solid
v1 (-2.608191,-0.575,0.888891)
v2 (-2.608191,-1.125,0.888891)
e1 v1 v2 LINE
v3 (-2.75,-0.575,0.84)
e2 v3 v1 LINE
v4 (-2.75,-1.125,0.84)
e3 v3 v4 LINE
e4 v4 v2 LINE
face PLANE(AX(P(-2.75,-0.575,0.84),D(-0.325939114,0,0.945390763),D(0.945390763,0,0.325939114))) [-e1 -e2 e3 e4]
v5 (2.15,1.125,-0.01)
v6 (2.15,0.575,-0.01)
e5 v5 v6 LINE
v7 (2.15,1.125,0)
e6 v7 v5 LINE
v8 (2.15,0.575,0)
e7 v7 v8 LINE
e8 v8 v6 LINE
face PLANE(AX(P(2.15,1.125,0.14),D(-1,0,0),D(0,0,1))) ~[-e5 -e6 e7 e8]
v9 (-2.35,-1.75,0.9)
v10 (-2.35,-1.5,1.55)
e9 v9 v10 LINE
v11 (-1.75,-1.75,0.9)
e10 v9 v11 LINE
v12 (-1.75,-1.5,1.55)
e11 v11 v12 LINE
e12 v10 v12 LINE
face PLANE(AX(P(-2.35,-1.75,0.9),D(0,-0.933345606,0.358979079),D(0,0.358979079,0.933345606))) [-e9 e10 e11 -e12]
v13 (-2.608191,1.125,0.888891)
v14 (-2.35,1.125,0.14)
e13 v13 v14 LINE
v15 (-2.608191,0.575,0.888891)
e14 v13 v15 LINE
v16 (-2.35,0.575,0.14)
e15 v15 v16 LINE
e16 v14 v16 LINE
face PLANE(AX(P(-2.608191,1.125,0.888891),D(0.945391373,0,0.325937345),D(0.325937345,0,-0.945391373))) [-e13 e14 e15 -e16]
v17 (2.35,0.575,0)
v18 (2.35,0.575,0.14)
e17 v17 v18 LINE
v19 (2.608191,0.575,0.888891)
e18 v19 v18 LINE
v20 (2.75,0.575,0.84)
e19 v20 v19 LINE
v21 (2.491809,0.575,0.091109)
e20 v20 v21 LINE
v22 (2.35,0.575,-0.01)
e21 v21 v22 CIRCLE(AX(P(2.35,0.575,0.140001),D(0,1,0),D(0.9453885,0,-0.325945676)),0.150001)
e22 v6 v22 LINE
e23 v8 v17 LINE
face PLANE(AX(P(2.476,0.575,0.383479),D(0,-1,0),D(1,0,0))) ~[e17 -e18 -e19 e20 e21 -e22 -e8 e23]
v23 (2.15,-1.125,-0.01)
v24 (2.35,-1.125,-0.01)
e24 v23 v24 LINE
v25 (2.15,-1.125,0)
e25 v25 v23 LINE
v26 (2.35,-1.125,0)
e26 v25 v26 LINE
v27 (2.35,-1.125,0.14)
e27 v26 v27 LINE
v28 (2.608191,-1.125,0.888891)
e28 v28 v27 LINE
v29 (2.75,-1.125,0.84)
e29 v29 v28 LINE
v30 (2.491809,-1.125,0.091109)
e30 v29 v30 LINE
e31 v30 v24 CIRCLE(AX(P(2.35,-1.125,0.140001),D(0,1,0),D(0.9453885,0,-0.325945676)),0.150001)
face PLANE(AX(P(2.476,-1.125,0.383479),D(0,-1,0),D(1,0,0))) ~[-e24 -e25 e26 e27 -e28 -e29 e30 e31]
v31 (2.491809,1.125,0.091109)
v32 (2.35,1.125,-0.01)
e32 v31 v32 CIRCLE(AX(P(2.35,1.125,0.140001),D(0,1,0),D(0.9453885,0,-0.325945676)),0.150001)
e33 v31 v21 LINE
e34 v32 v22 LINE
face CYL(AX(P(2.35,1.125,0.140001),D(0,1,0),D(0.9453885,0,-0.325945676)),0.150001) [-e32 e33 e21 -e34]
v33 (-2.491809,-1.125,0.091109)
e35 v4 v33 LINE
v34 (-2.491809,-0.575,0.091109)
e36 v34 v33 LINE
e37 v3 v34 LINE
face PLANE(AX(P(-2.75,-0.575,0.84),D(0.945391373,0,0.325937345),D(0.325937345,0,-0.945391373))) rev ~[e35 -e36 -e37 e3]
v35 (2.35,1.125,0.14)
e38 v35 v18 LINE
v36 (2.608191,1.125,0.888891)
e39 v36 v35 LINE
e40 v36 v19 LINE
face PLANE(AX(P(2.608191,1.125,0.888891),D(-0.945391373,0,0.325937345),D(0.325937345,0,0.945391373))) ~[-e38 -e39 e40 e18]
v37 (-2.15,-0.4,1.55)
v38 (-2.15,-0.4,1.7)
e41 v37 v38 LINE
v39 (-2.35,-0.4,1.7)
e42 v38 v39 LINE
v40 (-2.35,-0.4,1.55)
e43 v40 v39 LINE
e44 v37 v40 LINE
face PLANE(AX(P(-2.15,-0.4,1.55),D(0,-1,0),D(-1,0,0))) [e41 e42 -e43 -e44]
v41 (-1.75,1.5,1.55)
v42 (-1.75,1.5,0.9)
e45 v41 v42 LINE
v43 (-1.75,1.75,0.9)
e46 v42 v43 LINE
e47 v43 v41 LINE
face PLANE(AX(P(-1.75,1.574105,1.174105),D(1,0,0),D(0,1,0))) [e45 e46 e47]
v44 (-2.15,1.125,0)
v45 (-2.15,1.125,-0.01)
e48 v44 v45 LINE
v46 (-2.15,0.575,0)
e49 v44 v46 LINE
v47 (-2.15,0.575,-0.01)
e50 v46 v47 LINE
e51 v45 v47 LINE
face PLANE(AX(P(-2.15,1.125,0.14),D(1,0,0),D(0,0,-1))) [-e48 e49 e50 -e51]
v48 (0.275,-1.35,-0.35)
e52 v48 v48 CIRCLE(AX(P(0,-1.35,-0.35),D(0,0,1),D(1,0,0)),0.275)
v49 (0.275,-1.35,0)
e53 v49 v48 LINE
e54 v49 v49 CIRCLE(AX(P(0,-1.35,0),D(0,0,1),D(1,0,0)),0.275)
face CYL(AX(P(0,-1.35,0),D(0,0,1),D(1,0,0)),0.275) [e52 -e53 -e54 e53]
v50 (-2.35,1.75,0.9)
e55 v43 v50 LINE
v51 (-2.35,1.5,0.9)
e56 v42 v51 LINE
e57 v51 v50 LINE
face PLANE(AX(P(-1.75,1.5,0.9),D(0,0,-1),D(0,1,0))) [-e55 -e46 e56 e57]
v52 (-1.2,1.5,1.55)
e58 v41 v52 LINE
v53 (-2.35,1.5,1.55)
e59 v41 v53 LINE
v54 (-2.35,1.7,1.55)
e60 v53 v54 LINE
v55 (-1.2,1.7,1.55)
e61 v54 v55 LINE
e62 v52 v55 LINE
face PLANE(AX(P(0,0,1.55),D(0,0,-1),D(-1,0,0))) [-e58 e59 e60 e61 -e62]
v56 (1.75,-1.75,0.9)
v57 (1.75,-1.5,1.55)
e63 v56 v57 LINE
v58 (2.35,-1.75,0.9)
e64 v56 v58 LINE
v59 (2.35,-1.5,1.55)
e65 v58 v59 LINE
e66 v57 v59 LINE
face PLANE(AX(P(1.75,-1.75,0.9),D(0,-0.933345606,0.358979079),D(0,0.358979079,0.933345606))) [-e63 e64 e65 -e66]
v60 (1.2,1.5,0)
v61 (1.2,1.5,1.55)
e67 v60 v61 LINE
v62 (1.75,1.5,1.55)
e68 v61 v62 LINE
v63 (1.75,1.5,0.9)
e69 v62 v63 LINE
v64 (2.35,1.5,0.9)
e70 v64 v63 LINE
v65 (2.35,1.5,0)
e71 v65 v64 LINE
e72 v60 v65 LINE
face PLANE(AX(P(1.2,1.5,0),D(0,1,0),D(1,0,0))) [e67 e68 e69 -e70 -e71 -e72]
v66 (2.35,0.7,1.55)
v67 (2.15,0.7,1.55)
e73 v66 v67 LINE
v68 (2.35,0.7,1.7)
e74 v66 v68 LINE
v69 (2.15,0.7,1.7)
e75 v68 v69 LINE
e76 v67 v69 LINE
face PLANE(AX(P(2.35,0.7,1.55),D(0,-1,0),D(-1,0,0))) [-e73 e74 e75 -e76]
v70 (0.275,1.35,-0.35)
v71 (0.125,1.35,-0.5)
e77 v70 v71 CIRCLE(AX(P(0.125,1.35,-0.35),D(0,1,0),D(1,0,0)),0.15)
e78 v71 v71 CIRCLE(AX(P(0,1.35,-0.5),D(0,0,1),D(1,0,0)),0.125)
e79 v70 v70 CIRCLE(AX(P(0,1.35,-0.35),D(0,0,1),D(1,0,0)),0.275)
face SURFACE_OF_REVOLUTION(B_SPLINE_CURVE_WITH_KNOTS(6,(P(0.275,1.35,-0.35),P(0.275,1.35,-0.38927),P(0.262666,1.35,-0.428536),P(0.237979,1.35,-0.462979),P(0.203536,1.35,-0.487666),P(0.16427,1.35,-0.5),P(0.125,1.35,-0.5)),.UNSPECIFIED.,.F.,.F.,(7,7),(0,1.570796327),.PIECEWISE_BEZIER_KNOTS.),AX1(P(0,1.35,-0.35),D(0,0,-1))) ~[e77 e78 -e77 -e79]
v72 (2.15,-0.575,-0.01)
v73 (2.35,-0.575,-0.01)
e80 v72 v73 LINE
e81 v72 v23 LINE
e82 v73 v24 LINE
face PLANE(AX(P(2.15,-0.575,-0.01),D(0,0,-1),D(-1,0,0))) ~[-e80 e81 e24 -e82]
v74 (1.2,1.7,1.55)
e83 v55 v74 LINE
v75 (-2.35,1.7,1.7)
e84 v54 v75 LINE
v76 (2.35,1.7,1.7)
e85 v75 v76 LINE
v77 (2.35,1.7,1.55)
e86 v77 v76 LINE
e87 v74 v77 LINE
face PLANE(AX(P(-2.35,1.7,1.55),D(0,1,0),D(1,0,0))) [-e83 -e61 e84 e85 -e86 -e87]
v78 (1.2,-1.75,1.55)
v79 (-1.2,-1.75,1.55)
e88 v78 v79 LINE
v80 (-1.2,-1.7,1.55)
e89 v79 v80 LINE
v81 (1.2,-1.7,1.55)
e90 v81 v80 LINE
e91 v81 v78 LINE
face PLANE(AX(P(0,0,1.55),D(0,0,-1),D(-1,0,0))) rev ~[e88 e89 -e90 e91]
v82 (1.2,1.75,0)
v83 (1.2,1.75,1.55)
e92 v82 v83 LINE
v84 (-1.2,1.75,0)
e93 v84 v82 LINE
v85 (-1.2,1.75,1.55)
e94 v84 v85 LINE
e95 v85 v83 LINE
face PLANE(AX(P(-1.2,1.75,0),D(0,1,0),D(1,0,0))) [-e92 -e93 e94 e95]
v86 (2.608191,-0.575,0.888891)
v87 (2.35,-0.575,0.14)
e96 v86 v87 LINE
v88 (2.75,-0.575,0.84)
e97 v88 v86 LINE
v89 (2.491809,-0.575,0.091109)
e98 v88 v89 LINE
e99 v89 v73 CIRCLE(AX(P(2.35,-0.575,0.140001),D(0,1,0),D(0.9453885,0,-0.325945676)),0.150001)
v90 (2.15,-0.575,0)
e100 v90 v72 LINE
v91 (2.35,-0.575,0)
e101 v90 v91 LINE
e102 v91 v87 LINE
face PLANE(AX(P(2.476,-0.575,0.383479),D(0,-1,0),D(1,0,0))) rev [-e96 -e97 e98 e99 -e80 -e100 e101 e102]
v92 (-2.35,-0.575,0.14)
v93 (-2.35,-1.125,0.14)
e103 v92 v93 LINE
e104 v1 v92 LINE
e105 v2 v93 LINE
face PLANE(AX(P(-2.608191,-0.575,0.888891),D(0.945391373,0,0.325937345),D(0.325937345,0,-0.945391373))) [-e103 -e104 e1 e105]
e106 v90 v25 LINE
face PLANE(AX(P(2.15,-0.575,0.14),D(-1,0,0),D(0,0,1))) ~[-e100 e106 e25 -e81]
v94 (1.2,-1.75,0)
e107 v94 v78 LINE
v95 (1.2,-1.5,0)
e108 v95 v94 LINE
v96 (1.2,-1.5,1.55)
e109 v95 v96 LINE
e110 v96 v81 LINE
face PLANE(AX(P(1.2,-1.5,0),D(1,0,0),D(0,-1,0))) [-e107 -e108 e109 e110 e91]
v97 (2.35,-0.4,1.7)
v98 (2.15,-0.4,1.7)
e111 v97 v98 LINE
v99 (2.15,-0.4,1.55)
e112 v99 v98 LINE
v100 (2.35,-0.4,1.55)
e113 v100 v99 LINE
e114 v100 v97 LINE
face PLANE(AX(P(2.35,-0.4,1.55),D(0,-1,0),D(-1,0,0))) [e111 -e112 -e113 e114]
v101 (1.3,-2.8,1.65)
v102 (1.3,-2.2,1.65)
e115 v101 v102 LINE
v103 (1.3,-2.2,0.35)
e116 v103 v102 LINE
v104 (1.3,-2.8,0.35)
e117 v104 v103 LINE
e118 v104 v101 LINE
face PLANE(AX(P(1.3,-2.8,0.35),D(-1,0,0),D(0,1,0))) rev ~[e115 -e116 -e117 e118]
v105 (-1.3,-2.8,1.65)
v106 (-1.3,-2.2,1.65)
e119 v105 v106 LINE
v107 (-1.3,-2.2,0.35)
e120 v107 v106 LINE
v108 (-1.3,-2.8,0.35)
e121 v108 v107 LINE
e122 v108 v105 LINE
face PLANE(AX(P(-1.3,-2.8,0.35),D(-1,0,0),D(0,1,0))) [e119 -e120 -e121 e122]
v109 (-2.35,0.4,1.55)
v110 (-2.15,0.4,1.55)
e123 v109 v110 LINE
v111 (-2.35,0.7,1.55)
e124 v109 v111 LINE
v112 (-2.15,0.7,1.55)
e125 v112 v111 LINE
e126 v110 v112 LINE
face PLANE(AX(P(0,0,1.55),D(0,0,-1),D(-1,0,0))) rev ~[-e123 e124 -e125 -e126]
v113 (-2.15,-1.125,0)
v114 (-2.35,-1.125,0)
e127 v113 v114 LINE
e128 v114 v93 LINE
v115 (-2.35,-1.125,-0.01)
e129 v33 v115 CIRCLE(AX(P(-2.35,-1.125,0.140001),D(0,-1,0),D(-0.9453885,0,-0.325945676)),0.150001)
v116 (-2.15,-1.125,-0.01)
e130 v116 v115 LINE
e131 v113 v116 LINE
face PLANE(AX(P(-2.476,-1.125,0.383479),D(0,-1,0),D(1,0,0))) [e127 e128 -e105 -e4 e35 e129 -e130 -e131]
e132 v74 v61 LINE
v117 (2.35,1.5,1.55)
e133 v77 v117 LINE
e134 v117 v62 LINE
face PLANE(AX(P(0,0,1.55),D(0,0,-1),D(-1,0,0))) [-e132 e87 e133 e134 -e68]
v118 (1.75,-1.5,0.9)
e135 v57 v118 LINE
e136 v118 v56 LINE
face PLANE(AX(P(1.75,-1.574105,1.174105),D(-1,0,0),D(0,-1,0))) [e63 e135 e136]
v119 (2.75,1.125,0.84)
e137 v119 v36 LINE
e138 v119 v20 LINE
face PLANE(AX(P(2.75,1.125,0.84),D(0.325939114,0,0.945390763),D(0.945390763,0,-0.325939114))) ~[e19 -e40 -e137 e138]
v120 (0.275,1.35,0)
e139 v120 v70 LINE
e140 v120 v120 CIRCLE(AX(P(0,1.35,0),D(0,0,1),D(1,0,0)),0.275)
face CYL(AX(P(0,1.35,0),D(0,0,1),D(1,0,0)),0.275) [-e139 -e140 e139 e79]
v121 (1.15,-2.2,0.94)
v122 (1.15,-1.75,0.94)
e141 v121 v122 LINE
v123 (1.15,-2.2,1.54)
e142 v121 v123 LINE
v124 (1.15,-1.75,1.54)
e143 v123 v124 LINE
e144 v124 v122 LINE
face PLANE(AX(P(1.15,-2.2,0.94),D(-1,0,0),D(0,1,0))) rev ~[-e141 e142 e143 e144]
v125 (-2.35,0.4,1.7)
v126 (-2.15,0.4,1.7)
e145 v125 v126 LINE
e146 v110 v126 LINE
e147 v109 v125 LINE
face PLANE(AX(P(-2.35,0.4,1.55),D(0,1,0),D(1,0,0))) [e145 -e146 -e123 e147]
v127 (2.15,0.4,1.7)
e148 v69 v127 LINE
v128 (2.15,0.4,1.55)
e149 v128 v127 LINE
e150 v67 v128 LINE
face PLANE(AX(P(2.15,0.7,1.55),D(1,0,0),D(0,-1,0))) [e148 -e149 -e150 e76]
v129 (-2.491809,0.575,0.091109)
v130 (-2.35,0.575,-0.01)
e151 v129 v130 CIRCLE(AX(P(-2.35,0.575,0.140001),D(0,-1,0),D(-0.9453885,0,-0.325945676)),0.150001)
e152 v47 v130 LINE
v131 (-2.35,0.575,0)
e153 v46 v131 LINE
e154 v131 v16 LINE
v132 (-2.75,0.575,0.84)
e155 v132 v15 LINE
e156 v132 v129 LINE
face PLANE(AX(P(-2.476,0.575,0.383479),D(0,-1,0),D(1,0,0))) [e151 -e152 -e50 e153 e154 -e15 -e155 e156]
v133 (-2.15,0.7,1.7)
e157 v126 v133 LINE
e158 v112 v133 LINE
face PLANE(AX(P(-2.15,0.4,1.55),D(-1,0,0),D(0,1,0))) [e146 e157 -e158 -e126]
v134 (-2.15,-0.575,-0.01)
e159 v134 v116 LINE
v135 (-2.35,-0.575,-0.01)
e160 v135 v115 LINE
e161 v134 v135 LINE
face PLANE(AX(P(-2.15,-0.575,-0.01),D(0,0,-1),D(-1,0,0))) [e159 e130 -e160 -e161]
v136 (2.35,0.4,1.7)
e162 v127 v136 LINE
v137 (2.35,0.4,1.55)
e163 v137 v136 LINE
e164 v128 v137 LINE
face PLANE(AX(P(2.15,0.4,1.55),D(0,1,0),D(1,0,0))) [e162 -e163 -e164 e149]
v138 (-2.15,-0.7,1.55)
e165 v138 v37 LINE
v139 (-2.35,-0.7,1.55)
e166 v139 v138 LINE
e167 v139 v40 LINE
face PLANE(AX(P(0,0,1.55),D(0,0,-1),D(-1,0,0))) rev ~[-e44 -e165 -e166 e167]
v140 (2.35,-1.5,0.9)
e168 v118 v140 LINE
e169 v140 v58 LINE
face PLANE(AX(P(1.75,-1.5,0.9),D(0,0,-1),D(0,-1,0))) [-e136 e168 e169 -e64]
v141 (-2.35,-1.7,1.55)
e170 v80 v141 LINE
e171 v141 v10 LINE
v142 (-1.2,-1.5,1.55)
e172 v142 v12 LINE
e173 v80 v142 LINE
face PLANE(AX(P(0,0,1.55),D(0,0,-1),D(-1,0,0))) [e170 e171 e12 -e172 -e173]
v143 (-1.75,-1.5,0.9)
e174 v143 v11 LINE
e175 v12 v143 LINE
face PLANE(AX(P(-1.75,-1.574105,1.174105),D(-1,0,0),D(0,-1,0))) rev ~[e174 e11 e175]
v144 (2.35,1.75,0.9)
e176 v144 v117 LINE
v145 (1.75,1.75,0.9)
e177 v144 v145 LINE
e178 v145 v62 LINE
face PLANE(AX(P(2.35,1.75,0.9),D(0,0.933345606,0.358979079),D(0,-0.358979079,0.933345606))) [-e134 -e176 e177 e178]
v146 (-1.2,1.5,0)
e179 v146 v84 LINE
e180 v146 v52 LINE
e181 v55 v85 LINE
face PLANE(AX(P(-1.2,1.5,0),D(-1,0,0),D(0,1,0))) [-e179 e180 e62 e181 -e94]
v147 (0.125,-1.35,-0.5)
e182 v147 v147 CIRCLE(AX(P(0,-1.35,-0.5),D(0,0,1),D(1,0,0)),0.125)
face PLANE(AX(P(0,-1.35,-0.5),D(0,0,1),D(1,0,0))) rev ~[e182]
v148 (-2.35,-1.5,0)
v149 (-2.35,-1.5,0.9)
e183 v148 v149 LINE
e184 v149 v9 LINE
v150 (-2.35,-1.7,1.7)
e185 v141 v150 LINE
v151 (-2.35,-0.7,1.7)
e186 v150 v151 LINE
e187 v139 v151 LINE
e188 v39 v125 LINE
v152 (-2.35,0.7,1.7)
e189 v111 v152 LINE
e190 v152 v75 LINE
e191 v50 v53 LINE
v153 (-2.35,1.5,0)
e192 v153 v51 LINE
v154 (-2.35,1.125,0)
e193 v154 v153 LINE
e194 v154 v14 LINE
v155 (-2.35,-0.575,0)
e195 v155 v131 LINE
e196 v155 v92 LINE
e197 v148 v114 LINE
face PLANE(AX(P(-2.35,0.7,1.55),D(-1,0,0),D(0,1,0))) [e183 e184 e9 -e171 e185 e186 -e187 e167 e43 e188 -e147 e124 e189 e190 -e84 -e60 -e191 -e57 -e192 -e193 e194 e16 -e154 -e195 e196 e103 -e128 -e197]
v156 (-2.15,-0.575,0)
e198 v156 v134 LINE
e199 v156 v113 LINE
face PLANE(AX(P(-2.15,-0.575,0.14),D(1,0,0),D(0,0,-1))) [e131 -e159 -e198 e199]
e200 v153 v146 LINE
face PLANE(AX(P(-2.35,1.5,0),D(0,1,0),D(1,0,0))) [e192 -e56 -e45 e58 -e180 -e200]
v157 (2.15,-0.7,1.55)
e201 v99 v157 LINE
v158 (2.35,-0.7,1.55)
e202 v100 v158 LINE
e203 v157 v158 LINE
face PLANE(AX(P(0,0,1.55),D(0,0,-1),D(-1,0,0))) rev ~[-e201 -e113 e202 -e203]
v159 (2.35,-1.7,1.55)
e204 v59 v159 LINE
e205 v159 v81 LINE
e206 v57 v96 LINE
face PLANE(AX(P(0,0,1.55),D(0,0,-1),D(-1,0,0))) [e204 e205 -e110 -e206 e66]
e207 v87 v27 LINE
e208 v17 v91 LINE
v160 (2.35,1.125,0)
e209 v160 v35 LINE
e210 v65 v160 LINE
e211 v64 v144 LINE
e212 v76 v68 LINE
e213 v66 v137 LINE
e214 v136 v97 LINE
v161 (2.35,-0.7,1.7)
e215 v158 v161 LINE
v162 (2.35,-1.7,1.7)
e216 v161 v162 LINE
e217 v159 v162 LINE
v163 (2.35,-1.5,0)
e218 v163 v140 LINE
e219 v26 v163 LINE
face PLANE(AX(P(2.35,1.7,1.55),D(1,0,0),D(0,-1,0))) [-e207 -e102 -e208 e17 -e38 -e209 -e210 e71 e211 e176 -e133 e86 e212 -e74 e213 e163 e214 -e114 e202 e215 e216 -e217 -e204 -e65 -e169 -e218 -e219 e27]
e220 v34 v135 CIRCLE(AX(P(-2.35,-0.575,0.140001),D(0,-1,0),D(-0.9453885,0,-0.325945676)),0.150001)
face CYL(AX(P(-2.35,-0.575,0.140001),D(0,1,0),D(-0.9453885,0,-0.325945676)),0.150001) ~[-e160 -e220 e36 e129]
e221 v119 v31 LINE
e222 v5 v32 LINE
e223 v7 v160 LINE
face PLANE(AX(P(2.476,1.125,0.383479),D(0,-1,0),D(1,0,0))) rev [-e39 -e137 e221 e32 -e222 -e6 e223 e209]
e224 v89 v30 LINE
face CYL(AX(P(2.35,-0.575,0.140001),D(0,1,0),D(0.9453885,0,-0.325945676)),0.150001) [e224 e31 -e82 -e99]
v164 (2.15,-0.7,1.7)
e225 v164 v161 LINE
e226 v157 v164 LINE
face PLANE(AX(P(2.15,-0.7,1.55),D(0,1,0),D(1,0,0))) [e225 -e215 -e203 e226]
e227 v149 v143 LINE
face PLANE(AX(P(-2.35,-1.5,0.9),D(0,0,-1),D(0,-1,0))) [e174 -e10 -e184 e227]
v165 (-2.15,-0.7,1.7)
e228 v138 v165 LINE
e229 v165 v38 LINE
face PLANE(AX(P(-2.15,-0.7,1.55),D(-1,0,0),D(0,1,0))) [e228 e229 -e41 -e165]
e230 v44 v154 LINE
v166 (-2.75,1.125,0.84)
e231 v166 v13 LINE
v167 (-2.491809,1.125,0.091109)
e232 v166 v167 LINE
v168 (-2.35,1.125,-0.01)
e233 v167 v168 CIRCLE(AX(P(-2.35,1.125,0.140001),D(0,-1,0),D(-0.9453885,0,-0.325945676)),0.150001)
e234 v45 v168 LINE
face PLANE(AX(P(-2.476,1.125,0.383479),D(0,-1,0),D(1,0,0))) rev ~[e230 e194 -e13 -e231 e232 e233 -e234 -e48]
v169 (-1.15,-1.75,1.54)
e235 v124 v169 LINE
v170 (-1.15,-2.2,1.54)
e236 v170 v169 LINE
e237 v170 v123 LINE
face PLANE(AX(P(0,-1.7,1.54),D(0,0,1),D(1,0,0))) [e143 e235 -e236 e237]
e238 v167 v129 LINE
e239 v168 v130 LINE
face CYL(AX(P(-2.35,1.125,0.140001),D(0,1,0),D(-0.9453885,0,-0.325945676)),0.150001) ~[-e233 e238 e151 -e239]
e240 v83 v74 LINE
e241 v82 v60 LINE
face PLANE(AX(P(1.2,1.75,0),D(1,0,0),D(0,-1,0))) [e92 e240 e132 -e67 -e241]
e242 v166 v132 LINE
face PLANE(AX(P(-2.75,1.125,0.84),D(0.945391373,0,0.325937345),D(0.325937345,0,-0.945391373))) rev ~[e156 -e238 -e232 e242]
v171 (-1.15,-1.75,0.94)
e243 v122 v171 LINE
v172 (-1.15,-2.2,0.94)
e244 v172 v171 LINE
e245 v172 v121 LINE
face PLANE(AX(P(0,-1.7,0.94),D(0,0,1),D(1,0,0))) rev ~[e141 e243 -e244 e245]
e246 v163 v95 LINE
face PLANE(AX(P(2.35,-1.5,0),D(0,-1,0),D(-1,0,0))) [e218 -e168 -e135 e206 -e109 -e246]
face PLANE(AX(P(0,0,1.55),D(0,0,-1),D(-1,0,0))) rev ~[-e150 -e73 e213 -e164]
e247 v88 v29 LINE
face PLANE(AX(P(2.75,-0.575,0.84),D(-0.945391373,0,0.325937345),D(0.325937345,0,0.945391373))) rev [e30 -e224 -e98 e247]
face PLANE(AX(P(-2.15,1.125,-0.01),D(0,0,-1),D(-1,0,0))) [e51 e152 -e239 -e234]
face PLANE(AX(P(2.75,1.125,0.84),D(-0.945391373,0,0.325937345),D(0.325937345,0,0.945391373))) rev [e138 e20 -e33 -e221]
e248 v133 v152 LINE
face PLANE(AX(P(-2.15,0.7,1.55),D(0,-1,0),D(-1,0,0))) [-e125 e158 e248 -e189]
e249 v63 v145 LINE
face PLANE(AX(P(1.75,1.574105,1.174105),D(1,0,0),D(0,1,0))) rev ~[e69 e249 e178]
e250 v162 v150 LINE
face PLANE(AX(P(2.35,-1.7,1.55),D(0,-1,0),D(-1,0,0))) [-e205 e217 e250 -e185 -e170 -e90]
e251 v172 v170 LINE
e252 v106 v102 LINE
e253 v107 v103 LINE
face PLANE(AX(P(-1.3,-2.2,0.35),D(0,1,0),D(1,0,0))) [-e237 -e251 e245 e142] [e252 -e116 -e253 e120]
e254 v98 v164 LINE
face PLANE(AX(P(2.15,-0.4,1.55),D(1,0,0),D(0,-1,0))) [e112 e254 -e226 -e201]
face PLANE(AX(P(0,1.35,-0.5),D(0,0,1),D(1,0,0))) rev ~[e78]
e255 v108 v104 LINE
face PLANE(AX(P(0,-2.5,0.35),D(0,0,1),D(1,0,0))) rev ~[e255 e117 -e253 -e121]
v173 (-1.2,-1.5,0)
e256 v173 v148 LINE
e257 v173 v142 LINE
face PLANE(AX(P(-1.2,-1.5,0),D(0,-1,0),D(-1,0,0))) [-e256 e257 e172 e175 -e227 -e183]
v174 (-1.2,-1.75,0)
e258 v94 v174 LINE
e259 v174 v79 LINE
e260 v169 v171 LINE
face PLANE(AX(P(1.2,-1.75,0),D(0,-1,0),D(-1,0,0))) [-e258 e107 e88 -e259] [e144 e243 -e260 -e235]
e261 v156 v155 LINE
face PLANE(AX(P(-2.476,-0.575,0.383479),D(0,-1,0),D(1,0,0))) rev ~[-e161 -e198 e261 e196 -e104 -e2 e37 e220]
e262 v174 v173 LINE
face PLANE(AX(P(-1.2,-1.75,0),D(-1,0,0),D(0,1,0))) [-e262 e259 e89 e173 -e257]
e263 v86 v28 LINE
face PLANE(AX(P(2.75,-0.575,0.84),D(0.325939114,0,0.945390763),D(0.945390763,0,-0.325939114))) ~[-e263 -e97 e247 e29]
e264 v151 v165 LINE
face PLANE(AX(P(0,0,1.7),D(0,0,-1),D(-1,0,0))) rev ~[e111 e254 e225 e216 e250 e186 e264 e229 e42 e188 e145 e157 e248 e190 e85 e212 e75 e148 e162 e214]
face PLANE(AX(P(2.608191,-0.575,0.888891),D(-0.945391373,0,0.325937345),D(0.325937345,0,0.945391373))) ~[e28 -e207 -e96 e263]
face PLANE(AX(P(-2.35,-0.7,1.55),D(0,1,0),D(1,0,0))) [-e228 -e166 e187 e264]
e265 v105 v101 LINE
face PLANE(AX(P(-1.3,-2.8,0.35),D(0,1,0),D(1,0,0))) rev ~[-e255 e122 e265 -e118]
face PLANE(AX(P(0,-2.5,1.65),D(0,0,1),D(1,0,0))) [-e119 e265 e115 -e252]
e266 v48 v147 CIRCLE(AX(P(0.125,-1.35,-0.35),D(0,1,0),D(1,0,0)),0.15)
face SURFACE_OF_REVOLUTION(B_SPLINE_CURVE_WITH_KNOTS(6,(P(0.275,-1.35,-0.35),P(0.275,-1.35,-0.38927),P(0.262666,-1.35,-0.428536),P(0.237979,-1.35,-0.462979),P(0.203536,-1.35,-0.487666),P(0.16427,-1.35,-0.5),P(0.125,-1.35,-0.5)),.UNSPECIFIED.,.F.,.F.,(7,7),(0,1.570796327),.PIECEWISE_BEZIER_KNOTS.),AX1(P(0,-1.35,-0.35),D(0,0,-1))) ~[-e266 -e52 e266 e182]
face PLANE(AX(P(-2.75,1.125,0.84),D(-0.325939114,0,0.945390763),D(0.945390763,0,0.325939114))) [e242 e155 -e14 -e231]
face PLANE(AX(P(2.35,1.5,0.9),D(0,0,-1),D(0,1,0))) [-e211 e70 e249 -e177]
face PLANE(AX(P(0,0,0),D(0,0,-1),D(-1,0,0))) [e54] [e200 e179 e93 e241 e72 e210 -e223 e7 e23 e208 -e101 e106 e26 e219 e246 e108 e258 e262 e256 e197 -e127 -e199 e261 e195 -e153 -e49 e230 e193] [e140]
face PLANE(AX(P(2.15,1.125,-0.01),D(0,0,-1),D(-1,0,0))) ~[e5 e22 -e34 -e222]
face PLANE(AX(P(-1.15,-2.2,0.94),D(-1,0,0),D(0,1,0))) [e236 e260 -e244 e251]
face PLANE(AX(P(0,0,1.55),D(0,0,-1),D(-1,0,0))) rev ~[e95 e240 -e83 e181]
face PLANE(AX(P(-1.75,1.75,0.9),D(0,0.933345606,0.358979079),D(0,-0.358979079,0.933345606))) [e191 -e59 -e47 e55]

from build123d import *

# Parameters (mm, degrees)
EXTRUDE_DEPTH    = 0.55
ARRAY_Y_COUNT    = 2
ARRAY_Y_PITCH    = 1.7
EXTRUDE003_DEPTH = 0.15
BOX_W            = 2.6
BOX_H            = 0.6
BOX_DEPTH        = 1.3
BOX001_W         = 2.3
BOX001_H         = 1
BOX001_DEPTH     = 0.6
EXTRUDE004_DEPTH = 0.6
ARRAY001_X_COUNT = 2
ARRAY001_X_PITCH = 4.1
ARRAY002_COUNT   = 2
EXTRUDE002_DEPTH = 1.55
SKETCH001_R      = 0.275
EXTRUDE001_DEPTH = 0.5
FILLET_R         = 0.15
ARRAY003_Y_COUNT = 2
ARRAY003_Y_PITCH = 2.7


with BuildPart() as leftlegs:
    # Sketch → Extrude (new body)
    with BuildSketch(Plane.XZ.offset(0.575)):
        with BuildLine():
            Line((-2.75, 0.85), (-2.491809, 0.101109))
            ThreePointArc((-2.491809, 0.101109), (-2.437082, 0.027866), (-2.35, 0))
            Line((-2.15, 0), (-2.35, 0))
            Line((-2.15, 0.15), (-2.15, 0))
            Line((-2.35, 0.15), (-2.15, 0.15))
            Line((-2.608191, 0.898891), (-2.35, 0.15))
            Line((-2.75, 0.85), (-2.608191, 0.898891))
        make_face()
    extrude(amount=EXTRUDE_DEPTH)


with BuildPart() as leftlegs_1:
    # Extrude placement: moved
    add(leftlegs.part.moved(Location((0, 0, -0.01))))

    # Array Y: leftlegs ×2


with BuildPart() as leftlegs_2:
    add(leftlegs_1.part)
    with Locations(*[(0, i * ARRAY_Y_PITCH, 0) for i in range(1, ARRAY_Y_COUNT)]):
        add(leftlegs_1.part)


with BuildPart() as cover:
    # Sketch003 → Extrude003 (new body)
    with BuildSketch(Plane.XY.offset(1.55)):
        Polygon((-2.35, 1.7), (2.35, 1.7), (2.35, 0.7), (2.15, 0.7), (2.15, 0.4), (2.35, 0.4), (2.35, -0.4), (2.15, -0.4), (2.15, -0.7), (2.35, -0.7), (2.35, -1.7), (-2.35, -1.7), (-2.35, -0.7), (-2.15, -0.7), (-2.15, -0.4), (-2.35, -0.4), (-2.35, 0.4), (-2.15, 0.4), (-2.15, 0.7), (-2.35, 0.7), align=None)
    extrude(amount=EXTRUDE003_DEPTH)


with BuildPart() as metal:
    # mirror: instance of leftlegs
    add(leftlegs_2.part.mirror(Plane(origin=(0, 0, 0), x_dir=(0, -1, 0), z_dir=(1, 0, 0))))

    # Fusion: union leftlegs, cover
    add(leftlegs_2.part)
    add(cover.part)


with BuildPart() as notch:
    # Box → Box (new body)
    with BuildSketch(Plane(origin=(-1.3, -2.8, 0.35), x_dir=(1, 0, 0), z_dir=(0, 0, 1))):
        with Locations((1.3, 0.3)):
            Rectangle(BOX_W, BOX_H)
    extrude(amount=BOX_DEPTH)


with BuildPart() as armandnotch:
    # Box001 → Box001 (new body)
    with BuildSketch(Plane(origin=(-1.15, -2.2, 0.94), x_dir=(1, 0, 0), z_dir=(0, 0, 1))):
        with Locations((1.15, 0.5)):
            Rectangle(BOX001_W, BOX001_H)
    extrude(amount=BOX001_DEPTH)

    # Fusion001: union notch
    add(notch.part)


with BuildPart() as claws:
    # Sketch004 → Extrude004 (new body)
    with BuildSketch(Plane.YZ.offset(1.75)):
        Polygon((-1.5, 0.9), (-1.75, 0.9), (-1.5, 1.55), align=None)
    extrude(amount=EXTRUDE004_DEPTH)

    # Array001 X: claws ×2


with BuildPart() as claws_1:
    add(claws.part)
    with Locations(*[(-i * ARRAY001_X_PITCH, 0, 0) for i in range(1, ARRAY001_X_COUNT)]):
        add(claws.part)

    # Array002: claws ×2 about axis
    array002_axis = Axis((0, 0, 0), (0, 0, 1))


with BuildPart() as claws_2:
    add(claws_1.part)
    for i in range(1, ARRAY002_COUNT):
        add(claws_1.part.rotate(array002_axis, i * 360 / ARRAY002_COUNT))


with BuildPart() as housing:
    # Sketch002 → Extrude002 (new body)
    with BuildSketch(Plane.XY):
        Polygon((-2.35, 1.5), (-1.2, 1.5), (-1.2, 1.75), (1.2, 1.75), (1.2, 1.5), (2.35, 1.5), (2.35, -1.5), (1.2, -1.5), (1.2, -1.75), (-1.2, -1.75), (-1.2, -1.5), (-2.35, -1.5), align=None)
    extrude(amount=EXTRUDE002_DEPTH)


with BuildPart() as thau13:
    # Sketch001 → Extrude001 (new body)
    with BuildSketch(Plane.XY):
        with Locations((0, -1.35)):
            Circle(SKETCH001_R)
    extrude(amount=-EXTRUDE001_DEPTH)

    # Fillet
    fillet_edges = [thau13.edges().sort_by_distance(p)[0] for p in [
        (-0.275, -1.35, -0.5),
    ]]
    fillet(fillet_edges, radius=FILLET_R)

    # Array003 Y: THAU13 ×2


with BuildPart() as thau13_1:
    add(thau13.part)
    with Locations(*[(0, i * ARRAY003_Y_PITCH, 0) for i in range(1, ARRAY003_Y_COUNT)]):
        add(thau13.part)

    # Fusion002: union claws, housing
    add(claws_2.part)
    add(housing.part)

    # Fusion003: union metal, armandnotch
    add(metal.part)
    add(armandnotch.part)


solid = thau13_1.part
